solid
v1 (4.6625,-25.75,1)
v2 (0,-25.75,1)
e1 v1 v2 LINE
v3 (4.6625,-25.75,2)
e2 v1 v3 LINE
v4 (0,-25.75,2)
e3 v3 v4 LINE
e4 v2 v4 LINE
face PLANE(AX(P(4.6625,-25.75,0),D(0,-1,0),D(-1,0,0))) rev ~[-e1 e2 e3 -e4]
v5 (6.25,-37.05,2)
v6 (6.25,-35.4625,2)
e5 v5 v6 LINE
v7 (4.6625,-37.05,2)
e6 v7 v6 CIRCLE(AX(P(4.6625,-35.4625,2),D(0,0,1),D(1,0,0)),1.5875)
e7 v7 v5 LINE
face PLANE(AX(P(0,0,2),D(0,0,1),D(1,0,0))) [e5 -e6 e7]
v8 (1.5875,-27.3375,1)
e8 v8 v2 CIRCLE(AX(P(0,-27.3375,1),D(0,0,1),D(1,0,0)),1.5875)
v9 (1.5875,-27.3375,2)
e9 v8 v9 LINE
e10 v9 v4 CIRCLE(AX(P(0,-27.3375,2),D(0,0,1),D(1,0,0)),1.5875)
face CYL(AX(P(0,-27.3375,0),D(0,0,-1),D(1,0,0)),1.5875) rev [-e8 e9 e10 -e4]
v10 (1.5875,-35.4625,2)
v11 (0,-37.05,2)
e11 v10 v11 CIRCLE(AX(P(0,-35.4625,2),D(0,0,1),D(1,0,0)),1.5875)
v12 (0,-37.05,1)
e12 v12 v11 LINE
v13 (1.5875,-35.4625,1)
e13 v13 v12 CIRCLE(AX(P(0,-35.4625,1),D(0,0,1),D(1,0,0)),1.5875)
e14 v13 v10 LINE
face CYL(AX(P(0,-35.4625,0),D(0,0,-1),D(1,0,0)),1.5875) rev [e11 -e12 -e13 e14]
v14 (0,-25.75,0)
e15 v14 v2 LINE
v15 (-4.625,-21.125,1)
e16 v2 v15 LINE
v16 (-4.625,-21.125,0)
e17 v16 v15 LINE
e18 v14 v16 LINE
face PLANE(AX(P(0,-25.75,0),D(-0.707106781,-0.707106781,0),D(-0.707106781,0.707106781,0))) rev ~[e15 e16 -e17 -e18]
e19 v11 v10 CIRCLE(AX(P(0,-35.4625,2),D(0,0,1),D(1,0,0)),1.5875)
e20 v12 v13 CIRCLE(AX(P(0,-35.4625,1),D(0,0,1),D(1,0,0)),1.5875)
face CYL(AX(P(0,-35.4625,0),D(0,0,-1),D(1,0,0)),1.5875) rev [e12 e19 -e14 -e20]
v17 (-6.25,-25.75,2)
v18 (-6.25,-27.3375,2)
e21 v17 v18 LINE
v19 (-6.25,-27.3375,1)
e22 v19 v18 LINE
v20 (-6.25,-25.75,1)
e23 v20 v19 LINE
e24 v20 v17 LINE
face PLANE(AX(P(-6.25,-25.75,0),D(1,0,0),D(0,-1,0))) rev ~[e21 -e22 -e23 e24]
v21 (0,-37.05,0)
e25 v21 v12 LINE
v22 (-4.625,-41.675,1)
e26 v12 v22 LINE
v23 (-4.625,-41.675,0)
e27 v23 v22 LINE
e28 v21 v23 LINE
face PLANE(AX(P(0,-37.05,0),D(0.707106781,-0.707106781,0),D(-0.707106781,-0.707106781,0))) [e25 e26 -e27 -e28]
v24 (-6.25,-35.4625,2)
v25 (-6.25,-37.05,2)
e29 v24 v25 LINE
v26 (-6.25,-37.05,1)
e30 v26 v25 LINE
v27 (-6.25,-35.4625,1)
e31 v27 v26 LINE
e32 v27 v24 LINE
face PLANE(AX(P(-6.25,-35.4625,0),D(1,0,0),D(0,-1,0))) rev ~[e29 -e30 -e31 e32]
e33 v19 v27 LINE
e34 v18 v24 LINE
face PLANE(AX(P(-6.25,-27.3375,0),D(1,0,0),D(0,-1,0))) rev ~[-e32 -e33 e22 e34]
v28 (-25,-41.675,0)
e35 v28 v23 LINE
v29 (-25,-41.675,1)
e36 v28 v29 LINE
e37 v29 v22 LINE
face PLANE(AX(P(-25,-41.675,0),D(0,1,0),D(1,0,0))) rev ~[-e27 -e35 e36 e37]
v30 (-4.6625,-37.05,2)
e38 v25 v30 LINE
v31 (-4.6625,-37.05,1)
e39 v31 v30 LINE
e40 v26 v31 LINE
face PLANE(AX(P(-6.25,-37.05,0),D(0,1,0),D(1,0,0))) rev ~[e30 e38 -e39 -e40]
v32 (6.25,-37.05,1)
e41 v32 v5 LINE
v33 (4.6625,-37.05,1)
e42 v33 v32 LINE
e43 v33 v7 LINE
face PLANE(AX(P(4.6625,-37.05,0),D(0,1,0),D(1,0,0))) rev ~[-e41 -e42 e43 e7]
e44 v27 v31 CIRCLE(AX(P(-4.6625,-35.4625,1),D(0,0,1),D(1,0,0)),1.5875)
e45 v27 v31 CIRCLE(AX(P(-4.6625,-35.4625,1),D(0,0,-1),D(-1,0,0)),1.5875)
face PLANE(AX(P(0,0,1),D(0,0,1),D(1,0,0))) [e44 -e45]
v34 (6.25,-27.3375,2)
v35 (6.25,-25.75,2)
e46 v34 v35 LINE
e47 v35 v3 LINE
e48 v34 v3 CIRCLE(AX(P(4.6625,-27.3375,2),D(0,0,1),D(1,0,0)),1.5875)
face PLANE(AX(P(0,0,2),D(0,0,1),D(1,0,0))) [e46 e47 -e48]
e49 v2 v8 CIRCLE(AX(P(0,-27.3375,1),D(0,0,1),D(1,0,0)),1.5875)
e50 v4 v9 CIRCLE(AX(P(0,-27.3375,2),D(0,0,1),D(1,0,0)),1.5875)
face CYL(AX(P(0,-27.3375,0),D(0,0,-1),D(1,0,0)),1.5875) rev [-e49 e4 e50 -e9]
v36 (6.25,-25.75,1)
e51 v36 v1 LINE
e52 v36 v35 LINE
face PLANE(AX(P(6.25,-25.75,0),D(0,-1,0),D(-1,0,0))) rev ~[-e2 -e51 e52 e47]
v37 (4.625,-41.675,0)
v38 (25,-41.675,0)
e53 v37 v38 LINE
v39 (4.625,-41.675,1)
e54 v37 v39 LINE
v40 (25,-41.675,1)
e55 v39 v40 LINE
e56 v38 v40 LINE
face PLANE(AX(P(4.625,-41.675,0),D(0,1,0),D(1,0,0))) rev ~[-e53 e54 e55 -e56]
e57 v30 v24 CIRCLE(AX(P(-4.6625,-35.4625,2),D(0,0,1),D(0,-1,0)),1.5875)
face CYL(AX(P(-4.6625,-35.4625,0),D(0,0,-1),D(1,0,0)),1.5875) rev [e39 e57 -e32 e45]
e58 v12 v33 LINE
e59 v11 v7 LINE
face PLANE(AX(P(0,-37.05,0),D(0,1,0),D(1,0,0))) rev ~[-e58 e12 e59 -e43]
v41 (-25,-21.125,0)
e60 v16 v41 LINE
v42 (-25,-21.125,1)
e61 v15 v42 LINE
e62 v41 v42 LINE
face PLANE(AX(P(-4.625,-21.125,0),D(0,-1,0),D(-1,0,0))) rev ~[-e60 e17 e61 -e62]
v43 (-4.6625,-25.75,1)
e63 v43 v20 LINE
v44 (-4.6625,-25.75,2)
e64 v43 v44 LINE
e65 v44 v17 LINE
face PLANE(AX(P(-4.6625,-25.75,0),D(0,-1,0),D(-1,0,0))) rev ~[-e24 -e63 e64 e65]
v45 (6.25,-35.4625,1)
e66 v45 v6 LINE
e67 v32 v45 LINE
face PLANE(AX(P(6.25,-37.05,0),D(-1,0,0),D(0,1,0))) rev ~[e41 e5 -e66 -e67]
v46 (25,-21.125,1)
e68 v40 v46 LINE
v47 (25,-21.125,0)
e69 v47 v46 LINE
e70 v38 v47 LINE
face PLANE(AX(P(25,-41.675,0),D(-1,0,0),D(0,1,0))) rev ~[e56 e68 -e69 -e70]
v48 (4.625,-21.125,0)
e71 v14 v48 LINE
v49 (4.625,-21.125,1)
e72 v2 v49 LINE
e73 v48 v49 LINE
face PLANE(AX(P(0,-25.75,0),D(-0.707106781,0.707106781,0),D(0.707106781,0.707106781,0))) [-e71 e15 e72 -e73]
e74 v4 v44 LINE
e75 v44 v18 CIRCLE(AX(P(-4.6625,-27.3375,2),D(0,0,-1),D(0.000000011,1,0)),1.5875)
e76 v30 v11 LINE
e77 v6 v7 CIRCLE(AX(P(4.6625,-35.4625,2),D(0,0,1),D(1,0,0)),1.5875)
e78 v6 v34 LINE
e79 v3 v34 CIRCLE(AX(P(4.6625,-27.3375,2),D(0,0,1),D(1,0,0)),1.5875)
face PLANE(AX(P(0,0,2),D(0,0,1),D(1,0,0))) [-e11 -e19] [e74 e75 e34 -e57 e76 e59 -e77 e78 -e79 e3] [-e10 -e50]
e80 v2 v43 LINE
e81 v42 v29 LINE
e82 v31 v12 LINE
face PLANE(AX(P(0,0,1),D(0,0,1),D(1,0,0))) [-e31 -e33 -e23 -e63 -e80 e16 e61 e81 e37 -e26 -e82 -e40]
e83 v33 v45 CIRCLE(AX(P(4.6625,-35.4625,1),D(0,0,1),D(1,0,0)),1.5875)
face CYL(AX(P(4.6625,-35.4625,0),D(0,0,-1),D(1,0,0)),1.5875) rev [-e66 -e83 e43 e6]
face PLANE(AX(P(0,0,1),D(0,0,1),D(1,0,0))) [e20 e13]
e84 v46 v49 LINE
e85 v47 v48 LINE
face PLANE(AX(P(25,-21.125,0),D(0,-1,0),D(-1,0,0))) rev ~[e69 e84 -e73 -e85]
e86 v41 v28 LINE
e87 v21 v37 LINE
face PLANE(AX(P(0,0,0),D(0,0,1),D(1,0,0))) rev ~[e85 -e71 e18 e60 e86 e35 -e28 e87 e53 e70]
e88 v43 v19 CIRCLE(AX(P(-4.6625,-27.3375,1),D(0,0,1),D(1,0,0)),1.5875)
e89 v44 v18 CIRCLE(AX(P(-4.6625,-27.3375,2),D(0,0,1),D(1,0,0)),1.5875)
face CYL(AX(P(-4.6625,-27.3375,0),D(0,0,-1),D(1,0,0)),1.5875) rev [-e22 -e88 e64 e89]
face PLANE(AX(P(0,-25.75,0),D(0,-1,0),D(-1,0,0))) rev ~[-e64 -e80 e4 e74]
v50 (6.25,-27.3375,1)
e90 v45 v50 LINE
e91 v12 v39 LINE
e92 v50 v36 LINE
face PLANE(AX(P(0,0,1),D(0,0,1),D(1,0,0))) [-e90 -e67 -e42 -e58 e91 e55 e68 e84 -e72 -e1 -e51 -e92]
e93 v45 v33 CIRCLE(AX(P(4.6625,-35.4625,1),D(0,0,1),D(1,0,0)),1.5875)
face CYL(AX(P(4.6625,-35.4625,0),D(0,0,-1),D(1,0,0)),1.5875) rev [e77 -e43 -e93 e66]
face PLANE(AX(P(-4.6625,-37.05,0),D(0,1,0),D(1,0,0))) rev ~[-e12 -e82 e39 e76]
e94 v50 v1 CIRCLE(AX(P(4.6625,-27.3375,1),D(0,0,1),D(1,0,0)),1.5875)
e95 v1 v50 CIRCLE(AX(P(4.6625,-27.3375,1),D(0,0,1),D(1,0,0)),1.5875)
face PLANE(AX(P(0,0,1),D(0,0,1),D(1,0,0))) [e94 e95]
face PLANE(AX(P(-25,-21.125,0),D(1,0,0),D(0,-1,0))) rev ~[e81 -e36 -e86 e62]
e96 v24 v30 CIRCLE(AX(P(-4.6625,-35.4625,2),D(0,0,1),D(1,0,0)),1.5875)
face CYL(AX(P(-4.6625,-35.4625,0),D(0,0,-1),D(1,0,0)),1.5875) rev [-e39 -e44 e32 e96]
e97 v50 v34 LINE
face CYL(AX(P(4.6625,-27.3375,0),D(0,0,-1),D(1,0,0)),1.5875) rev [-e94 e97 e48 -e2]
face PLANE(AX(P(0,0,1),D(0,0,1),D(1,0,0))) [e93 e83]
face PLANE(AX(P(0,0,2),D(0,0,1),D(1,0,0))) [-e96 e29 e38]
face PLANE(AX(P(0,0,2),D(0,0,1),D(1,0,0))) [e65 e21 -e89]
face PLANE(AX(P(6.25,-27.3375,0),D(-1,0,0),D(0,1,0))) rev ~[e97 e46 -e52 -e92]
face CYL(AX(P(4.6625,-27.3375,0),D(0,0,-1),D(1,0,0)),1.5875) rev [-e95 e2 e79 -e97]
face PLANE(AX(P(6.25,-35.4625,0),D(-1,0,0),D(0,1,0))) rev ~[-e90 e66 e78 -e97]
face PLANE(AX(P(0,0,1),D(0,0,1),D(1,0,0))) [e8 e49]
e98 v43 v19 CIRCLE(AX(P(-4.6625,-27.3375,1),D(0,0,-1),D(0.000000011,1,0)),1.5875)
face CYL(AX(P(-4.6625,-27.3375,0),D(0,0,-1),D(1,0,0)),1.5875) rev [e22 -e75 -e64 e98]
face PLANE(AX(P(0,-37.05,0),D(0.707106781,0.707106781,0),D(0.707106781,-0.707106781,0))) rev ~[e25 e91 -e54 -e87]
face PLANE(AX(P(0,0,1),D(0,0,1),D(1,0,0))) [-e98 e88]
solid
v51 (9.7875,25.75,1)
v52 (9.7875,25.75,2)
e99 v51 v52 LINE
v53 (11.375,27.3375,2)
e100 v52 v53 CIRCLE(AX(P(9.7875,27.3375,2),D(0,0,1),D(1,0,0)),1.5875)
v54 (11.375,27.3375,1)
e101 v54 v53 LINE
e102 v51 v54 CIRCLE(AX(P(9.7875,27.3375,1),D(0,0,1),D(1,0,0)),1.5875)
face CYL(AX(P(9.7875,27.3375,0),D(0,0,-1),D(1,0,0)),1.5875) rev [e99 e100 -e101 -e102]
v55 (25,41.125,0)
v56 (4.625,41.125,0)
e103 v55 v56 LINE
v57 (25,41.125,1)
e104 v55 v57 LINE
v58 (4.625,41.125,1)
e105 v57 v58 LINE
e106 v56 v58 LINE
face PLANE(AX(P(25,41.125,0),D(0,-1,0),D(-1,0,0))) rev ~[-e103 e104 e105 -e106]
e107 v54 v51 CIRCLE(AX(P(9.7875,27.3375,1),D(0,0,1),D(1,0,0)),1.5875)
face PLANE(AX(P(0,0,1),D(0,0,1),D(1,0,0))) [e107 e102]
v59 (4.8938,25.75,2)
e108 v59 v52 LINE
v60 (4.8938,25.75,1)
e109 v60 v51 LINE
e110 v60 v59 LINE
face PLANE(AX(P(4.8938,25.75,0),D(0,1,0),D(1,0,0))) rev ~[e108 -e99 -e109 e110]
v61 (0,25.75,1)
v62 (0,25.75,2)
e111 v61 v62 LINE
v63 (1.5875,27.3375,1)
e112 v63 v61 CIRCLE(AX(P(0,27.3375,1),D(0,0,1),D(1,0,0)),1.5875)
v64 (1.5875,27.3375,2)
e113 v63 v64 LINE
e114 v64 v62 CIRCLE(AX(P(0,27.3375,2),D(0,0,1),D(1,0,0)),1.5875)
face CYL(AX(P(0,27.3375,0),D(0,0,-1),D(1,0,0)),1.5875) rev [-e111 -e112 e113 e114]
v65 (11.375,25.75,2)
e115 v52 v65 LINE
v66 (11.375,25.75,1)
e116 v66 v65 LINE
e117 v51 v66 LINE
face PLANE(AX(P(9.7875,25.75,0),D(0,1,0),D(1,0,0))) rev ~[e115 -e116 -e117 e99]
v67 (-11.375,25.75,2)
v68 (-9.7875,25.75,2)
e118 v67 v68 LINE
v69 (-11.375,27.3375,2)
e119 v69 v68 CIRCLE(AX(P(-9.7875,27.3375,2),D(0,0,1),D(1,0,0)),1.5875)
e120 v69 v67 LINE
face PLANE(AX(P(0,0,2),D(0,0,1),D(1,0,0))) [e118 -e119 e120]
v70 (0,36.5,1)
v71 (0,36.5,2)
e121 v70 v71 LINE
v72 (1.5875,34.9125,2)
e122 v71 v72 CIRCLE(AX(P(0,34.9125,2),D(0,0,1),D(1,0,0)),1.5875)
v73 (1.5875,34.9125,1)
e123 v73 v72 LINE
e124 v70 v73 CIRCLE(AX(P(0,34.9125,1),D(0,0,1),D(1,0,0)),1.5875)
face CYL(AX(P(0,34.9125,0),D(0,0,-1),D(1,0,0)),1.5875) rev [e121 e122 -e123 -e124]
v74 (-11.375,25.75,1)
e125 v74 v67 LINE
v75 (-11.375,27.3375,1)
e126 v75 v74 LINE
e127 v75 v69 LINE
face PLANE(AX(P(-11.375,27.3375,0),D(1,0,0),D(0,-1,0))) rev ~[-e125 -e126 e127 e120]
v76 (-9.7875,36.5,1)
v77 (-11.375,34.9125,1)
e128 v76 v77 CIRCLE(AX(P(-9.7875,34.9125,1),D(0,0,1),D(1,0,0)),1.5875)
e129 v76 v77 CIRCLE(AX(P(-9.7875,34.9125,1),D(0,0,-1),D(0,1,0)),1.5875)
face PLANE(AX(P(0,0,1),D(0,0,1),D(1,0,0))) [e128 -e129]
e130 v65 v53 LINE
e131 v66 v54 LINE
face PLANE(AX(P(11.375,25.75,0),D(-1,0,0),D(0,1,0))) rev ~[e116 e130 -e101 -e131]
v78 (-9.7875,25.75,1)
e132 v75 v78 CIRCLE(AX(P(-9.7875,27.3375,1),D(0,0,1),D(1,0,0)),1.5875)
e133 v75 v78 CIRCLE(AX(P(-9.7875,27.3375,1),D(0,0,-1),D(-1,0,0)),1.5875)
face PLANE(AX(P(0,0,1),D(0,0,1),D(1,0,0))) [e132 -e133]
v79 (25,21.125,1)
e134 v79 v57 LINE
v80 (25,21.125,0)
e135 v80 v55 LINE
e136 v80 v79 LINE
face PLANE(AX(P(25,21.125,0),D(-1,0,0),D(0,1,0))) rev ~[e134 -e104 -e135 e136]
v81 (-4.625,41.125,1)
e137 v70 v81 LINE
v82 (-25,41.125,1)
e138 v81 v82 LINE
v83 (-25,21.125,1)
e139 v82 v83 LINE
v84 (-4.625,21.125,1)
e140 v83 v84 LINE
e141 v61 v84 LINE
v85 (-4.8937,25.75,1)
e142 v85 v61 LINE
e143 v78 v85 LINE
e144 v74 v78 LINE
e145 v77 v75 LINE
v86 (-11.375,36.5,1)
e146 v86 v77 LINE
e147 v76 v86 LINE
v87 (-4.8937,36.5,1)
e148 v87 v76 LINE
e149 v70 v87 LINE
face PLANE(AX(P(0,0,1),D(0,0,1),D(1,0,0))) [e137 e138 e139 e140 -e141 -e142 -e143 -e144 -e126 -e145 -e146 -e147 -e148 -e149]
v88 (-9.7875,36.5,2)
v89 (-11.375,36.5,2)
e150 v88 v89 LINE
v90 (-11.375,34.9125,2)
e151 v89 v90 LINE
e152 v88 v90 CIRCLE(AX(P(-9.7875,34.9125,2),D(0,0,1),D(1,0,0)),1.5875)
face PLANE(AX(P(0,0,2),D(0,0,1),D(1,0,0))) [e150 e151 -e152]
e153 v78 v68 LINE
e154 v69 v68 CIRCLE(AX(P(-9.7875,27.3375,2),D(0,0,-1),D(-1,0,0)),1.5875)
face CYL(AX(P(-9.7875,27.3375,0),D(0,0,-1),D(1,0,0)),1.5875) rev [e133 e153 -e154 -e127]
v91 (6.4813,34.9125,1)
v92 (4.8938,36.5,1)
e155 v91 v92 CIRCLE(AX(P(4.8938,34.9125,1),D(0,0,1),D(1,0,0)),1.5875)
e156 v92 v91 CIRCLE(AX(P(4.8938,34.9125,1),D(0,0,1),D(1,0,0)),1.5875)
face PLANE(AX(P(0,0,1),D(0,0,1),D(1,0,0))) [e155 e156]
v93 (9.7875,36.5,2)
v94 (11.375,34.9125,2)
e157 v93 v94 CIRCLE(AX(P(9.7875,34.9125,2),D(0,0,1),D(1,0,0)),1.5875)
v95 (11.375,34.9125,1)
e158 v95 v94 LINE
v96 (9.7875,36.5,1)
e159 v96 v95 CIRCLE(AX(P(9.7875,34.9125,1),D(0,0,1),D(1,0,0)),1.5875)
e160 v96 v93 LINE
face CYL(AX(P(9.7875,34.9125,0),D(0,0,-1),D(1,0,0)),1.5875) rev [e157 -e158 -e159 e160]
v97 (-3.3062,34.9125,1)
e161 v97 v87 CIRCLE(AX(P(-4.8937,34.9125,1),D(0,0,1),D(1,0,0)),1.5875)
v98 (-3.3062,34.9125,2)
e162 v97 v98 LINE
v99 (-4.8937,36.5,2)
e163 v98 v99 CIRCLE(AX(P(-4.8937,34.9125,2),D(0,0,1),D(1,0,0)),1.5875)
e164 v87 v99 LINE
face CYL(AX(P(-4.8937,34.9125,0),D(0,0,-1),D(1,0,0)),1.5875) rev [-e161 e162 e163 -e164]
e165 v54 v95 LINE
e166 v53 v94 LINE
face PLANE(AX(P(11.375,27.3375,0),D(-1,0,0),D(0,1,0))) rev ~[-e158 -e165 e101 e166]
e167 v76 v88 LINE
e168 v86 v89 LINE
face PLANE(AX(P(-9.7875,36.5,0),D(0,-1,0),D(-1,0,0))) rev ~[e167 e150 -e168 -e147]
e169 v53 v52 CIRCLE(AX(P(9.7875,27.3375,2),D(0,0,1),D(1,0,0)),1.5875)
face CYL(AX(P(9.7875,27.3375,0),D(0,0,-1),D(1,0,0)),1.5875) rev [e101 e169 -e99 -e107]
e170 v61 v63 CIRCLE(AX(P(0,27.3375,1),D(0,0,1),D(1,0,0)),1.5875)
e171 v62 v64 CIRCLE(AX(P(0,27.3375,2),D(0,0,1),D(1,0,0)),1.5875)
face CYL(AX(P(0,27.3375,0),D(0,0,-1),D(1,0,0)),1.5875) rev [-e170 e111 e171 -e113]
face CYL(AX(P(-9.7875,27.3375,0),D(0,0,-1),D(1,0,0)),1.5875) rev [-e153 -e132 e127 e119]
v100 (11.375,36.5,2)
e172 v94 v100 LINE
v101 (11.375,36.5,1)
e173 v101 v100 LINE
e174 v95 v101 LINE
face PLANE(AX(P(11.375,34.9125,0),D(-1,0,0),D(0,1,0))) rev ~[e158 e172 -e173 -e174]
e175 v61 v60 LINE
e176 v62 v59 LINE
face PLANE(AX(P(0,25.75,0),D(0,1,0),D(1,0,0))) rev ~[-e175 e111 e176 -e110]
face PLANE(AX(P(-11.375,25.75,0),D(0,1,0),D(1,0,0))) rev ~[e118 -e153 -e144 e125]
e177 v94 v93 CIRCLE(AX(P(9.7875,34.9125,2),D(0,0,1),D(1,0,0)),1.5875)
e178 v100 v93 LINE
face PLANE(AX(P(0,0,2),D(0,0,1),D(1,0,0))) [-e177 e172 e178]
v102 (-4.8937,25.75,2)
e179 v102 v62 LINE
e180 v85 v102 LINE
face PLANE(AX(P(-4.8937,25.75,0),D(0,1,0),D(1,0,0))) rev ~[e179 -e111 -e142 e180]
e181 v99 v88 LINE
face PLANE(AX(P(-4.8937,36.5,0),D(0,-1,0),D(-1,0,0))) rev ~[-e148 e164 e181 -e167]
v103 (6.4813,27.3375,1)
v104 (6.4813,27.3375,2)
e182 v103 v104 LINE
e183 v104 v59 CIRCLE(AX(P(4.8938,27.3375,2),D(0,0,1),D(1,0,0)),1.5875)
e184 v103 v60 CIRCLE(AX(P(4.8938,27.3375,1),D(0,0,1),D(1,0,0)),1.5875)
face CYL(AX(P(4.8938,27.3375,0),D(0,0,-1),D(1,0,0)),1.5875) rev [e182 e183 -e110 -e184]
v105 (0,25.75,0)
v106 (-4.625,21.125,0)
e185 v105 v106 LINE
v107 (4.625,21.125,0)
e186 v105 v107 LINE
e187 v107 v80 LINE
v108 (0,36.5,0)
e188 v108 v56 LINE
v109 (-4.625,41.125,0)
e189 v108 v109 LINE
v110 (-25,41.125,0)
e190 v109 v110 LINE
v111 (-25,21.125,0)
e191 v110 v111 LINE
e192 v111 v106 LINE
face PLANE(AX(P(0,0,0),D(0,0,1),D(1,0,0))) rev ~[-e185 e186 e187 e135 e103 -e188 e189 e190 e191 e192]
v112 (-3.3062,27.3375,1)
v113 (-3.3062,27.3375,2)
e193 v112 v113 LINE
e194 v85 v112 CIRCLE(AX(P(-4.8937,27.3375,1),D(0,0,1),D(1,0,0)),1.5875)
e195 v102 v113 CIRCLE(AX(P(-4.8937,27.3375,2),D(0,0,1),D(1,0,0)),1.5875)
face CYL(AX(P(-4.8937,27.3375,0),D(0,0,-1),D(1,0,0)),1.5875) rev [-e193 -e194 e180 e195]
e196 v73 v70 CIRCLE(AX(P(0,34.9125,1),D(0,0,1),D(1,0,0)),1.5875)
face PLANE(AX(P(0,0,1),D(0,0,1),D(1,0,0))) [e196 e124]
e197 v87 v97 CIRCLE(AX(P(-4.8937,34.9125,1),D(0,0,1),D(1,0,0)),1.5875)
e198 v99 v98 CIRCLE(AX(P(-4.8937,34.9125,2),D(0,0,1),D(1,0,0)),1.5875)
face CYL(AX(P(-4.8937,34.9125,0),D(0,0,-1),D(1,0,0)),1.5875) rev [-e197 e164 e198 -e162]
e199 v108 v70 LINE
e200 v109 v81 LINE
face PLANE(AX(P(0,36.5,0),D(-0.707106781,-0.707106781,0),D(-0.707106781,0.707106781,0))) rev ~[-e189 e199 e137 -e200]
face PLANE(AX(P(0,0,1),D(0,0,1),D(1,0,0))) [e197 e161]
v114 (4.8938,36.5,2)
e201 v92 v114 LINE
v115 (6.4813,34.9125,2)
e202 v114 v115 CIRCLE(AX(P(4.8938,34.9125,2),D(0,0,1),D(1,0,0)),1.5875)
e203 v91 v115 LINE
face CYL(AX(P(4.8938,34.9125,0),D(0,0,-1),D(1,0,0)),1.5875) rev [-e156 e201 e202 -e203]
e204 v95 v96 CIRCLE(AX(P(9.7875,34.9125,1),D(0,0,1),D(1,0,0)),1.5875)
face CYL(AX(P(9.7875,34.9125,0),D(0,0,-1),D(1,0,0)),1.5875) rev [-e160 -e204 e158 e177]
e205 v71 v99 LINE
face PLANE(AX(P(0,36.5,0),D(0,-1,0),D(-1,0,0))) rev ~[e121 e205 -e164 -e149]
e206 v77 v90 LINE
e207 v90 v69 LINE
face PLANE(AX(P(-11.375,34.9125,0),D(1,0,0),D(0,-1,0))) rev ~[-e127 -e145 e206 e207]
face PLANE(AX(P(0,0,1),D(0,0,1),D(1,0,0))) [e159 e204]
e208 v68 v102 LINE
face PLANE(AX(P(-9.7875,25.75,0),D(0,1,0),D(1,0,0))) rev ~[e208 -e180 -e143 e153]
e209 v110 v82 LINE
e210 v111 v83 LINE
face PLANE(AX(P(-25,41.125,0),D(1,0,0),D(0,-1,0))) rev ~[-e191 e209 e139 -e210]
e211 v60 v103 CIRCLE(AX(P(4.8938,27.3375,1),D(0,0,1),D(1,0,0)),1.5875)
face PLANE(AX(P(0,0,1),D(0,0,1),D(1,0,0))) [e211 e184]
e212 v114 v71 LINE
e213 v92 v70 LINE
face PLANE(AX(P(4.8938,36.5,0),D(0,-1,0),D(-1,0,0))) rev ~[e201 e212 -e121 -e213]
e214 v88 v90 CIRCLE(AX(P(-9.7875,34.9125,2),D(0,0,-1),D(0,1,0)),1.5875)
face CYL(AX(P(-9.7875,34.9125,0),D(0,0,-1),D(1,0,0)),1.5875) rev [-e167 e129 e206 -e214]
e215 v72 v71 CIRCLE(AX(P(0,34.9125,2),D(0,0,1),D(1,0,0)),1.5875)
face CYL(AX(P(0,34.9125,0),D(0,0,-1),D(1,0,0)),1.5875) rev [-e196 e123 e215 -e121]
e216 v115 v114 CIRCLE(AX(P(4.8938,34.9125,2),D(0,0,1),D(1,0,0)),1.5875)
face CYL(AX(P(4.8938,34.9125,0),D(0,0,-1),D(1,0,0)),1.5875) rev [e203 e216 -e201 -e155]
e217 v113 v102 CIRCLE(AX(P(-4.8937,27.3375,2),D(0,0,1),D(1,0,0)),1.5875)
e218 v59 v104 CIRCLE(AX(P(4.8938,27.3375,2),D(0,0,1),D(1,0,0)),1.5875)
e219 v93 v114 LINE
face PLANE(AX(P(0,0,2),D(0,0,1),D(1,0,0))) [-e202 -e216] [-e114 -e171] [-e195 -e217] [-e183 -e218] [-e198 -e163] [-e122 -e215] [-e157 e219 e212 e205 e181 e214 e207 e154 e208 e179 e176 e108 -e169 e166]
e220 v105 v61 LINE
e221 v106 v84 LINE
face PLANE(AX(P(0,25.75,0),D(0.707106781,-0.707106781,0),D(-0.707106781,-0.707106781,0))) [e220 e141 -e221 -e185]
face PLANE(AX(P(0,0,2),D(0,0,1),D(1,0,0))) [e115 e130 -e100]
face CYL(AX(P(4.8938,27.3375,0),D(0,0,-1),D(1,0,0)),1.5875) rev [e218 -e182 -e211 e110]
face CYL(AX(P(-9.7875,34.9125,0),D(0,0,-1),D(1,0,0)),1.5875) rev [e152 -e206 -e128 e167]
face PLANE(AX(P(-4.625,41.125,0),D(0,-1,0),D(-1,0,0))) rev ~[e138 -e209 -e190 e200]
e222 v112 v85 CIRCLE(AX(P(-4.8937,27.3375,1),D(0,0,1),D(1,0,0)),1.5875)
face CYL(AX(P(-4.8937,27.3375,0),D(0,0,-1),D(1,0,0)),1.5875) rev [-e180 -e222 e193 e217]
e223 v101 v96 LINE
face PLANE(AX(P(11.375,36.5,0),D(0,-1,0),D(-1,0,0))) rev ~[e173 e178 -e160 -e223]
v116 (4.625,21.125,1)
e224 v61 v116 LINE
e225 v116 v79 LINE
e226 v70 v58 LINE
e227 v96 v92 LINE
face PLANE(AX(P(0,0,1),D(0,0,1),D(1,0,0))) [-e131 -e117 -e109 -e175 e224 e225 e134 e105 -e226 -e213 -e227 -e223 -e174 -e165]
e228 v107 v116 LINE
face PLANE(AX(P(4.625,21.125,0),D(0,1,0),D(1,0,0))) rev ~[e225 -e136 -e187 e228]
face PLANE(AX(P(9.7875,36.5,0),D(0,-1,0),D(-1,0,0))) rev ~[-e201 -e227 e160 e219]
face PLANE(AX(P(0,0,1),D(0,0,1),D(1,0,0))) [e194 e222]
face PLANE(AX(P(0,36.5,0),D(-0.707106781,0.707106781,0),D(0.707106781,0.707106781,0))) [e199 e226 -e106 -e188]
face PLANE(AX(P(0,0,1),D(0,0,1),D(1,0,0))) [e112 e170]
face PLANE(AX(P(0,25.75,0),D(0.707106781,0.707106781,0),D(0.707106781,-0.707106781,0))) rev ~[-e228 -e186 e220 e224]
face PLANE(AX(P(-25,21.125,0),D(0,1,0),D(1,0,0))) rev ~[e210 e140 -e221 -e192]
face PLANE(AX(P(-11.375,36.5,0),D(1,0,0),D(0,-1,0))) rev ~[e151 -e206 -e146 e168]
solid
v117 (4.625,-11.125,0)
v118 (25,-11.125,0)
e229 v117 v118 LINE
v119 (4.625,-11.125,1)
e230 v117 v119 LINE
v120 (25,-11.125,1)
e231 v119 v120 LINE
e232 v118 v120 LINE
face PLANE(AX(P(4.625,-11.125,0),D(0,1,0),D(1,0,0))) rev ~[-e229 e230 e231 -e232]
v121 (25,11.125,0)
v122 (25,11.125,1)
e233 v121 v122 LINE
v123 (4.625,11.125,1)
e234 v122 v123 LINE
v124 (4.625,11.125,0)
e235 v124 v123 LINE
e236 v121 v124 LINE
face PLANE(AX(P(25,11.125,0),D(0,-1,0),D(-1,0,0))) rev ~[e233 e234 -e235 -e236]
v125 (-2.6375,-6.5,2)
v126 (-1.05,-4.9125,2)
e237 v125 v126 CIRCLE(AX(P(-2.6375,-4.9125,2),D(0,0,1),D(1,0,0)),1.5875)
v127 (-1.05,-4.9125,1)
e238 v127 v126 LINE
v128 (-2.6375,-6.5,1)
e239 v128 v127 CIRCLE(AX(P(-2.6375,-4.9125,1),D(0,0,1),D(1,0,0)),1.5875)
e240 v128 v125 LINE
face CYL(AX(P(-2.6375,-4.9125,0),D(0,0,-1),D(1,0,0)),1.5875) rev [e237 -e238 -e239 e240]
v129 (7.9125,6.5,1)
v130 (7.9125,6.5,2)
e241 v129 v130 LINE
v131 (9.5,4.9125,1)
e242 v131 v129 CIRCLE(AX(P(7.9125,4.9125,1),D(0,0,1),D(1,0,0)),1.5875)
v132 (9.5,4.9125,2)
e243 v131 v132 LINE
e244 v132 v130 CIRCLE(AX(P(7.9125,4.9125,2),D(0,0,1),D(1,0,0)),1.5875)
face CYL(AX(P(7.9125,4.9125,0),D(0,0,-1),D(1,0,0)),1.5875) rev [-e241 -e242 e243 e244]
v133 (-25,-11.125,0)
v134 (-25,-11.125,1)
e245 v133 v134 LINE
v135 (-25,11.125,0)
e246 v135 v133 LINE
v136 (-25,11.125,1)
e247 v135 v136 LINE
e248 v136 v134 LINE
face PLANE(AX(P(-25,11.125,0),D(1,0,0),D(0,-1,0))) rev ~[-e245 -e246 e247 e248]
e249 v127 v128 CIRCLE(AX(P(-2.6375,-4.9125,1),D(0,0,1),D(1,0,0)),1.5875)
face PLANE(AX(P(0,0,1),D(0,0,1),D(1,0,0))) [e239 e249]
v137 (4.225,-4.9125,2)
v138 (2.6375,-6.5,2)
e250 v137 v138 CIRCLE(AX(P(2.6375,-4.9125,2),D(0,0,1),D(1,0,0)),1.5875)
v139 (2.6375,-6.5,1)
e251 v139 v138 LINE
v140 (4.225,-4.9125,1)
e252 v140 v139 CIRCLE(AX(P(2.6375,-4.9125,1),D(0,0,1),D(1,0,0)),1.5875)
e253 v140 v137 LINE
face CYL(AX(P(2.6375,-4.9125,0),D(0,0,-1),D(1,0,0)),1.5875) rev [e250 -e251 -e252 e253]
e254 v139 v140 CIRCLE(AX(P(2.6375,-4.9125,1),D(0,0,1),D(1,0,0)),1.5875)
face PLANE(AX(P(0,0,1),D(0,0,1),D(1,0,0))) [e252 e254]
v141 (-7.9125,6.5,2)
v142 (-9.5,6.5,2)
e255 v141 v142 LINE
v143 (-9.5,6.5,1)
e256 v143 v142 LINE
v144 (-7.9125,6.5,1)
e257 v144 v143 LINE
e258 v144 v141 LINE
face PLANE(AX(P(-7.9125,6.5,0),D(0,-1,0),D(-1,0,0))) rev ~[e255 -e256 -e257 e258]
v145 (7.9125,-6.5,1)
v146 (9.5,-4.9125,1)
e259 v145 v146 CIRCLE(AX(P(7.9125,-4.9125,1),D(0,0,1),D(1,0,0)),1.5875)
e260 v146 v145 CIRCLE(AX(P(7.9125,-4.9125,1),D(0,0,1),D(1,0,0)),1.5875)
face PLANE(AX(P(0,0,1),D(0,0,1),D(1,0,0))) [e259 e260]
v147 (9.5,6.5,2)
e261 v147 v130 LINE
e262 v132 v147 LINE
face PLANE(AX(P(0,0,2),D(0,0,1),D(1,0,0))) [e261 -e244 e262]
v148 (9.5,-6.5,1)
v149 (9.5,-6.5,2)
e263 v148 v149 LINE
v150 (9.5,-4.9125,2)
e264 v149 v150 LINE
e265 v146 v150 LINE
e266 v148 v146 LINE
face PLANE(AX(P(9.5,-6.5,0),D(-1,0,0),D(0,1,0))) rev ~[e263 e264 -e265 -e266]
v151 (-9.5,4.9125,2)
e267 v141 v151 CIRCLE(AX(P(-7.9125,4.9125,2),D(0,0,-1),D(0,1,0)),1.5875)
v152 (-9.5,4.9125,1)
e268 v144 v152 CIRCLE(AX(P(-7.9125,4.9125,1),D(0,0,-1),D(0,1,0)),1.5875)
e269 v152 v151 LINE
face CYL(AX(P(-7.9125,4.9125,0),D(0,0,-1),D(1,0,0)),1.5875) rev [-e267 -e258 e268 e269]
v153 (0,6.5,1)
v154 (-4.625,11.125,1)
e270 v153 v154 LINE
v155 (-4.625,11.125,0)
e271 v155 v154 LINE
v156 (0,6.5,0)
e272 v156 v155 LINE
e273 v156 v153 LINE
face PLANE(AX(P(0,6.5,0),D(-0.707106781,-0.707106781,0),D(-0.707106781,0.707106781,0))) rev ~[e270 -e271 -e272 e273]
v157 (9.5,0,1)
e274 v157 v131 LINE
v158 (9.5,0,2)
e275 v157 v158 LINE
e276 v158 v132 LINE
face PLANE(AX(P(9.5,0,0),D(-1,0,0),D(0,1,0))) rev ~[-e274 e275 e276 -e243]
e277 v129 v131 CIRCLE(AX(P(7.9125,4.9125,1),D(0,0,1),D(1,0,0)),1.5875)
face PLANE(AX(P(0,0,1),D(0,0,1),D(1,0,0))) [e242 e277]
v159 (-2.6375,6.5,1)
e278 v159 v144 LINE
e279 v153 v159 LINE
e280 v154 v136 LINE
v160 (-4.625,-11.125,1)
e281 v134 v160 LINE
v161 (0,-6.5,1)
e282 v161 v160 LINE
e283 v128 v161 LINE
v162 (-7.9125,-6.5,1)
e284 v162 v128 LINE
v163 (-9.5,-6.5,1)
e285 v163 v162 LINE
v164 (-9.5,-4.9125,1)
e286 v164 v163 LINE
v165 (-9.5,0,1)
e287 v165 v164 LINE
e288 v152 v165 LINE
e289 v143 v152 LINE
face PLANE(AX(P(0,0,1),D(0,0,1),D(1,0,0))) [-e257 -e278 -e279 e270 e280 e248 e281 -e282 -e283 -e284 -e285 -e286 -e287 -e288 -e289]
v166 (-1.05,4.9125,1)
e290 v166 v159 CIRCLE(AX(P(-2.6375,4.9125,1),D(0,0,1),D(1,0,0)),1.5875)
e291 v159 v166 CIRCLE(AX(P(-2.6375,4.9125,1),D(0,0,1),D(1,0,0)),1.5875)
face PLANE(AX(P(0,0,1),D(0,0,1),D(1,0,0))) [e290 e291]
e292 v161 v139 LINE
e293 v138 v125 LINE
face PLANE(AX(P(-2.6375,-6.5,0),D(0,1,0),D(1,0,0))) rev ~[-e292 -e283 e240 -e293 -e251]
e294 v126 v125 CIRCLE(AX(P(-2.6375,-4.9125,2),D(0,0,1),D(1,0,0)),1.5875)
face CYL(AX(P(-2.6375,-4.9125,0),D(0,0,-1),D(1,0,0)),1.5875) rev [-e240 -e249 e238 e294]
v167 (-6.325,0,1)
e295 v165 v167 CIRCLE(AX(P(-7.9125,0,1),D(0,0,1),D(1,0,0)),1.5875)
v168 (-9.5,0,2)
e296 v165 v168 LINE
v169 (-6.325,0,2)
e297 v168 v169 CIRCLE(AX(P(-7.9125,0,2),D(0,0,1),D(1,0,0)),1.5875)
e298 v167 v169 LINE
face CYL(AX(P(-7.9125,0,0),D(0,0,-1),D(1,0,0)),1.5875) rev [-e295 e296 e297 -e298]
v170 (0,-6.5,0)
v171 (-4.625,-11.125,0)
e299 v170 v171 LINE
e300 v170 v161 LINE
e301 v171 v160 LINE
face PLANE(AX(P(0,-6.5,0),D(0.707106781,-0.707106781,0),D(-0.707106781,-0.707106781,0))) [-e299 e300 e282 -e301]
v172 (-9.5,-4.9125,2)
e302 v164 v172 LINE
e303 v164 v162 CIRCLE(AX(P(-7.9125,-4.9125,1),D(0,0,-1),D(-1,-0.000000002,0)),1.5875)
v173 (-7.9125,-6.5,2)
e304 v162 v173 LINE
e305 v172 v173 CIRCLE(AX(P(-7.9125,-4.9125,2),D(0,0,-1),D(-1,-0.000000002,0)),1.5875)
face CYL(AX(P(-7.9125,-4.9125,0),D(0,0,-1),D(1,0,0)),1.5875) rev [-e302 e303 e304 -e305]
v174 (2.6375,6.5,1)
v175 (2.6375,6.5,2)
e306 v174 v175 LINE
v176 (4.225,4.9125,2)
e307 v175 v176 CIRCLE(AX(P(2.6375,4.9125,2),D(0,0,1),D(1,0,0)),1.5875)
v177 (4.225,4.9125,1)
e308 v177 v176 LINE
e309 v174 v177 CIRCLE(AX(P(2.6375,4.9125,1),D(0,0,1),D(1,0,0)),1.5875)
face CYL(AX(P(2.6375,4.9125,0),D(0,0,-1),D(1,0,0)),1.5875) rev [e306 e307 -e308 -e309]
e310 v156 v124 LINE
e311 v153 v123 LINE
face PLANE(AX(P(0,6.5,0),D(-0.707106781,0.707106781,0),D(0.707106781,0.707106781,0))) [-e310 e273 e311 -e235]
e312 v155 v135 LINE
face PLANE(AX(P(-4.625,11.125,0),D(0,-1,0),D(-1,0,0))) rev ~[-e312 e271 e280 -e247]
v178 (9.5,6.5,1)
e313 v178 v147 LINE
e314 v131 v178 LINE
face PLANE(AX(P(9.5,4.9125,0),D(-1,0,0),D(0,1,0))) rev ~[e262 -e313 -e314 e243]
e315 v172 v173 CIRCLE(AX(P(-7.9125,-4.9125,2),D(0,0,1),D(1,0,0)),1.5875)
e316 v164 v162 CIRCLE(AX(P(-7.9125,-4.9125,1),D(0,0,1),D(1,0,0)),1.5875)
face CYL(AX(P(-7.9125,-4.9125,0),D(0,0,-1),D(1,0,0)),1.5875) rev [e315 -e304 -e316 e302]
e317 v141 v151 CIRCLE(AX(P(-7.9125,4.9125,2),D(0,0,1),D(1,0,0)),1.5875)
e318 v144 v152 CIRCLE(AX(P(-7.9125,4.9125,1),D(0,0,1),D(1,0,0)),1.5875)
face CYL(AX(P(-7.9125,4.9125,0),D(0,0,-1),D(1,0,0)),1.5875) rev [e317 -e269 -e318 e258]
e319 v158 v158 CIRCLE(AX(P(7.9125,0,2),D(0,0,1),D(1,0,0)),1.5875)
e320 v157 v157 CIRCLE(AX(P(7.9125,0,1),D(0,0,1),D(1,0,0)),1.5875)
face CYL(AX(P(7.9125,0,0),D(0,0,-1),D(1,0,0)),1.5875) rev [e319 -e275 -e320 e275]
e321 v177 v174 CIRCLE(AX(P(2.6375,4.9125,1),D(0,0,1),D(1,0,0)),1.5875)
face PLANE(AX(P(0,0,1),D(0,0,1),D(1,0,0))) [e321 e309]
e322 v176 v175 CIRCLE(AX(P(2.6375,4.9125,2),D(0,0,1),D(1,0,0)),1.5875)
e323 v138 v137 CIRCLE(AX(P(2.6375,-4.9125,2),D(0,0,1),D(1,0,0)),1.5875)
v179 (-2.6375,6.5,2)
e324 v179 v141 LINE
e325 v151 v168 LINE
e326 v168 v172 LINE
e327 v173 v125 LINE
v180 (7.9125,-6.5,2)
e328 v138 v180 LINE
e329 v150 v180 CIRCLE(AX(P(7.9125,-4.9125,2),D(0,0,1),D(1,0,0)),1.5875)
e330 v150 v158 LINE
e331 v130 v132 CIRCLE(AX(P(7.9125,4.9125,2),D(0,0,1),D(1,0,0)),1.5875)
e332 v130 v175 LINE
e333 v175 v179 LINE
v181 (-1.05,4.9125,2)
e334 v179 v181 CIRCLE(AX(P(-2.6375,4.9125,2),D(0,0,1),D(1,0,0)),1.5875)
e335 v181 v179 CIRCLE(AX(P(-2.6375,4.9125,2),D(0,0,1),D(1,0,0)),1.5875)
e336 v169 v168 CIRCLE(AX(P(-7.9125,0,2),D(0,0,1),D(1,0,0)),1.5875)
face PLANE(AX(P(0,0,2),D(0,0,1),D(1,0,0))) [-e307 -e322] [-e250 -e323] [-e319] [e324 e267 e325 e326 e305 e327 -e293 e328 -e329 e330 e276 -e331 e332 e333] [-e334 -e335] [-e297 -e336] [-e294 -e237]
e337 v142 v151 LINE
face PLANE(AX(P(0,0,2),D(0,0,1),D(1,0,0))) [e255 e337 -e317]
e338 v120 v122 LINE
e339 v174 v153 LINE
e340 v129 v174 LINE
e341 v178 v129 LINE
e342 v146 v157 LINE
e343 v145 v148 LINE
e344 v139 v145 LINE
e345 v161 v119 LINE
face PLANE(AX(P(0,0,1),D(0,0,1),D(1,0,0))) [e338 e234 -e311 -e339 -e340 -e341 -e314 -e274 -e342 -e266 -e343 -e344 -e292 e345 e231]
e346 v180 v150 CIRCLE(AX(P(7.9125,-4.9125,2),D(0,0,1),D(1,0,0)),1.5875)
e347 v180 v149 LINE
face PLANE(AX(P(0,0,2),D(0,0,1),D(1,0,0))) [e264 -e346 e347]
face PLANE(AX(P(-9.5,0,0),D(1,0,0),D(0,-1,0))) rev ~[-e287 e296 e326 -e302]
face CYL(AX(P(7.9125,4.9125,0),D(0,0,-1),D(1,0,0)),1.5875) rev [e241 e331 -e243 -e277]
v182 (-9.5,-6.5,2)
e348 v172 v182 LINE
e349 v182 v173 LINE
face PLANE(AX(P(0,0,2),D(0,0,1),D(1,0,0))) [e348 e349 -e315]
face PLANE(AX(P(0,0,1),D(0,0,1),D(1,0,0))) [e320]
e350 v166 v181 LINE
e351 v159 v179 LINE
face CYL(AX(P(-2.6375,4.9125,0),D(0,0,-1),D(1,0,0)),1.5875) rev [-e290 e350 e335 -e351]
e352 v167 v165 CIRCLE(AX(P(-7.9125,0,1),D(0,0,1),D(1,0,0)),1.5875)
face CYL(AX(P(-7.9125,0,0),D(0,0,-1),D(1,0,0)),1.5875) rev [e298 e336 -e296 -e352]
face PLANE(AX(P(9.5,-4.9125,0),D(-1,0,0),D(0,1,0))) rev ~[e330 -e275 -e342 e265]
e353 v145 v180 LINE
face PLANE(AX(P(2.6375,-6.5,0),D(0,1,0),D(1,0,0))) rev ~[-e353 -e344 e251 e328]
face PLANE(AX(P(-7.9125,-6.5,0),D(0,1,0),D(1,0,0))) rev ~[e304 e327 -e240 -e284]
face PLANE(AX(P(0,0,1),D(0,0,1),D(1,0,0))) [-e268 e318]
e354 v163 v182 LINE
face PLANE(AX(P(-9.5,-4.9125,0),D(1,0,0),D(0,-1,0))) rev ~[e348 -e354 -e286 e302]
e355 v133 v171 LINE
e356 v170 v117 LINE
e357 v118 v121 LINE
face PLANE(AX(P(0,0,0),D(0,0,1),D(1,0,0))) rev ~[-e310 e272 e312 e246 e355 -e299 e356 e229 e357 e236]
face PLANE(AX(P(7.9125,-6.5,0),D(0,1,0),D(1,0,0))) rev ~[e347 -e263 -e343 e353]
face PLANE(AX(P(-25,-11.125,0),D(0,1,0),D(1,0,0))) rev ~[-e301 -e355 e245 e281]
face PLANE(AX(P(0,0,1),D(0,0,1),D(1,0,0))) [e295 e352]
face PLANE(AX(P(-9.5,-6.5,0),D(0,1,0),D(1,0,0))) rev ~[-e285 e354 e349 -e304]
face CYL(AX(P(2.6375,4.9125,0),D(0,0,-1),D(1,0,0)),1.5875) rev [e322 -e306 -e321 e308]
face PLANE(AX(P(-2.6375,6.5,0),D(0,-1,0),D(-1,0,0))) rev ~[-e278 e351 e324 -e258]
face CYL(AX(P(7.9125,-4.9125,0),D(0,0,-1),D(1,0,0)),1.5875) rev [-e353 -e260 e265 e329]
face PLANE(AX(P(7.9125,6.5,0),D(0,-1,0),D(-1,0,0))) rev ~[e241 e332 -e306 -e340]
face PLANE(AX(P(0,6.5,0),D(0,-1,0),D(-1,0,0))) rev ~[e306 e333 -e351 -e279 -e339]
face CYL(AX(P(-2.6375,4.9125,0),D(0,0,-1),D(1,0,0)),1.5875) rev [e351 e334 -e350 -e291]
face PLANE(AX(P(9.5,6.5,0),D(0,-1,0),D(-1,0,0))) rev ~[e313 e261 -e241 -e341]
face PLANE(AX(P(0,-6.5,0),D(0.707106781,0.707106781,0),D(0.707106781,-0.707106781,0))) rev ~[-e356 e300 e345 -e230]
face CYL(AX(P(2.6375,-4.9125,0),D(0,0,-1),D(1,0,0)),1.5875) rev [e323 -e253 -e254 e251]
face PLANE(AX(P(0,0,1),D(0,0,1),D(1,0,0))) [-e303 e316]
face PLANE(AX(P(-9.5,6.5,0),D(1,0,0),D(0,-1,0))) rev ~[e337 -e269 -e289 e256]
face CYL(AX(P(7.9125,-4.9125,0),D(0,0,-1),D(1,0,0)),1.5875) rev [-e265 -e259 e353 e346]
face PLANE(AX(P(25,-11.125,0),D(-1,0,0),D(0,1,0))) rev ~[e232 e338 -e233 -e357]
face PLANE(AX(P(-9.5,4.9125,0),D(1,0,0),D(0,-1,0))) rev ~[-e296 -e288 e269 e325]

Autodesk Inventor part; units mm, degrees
ref_plane "YZ Plane" through (0, 0, 0) normal (1, 0, 0) x (0, 1, 0)
ref_plane "XZ Plane" through (0, 0, 0) normal (0, 1, 0) x (-1, 0, 0)
ref_plane "XY Plane" through (0, 0, 0) normal (0, 0, 1) x (1, 0, 0)
sketch "Sketch1" plane through (0, 0, 0) normal (0, 0, 1) x (1, 0, 0)
  line L0 (-25, -11.125) -> (-4.625, -11.125)
  line L1 (25, -11.125) -> (25, 11.125)
  line L2 (25, 11.125) -> (4.625, 11.125)
  line L3 (-25, 11.125) -> (-25, -11.125)
  line L4 (-25, -11.125) -> (25, 11.125) construction
  line L5 (25, -11.125) -> (-25, 11.125) construction
  line L6 (-9.5, -6.5) -> (9.5, -6.5)
  line L7 (9.5, -6.5) -> (9.5, 6.5)
  line L8 (9.5, 6.5) -> (-9.5, 6.5)
  line L9 (-9.5, 6.5) -> (-9.5, -6.5)
  line L10 (-9.5, -6.5) -> (9.5, 6.5) construction
  line L11 (9.5, -6.5) -> (-9.5, 6.5) construction
  line L12 (0, 6.5) -> (-4.625, 11.125)
  line L13 (0, 6.5) -> (4.625, 11.125)
  line L14 (0, -6.5) -> (-4.625, -11.125)
  line L15 (0, -6.5) -> (4.625, -11.125)
  line L16 (-4.625, 11.125) -> (-25, 11.125)
  line L17 (4.625, -11.125) -> (25, -11.125)
  circle A0 centre (-7.9125, 4.9125) radius 1.5875
  circle A1 centre (-7.9125, -4.9125) radius 1.5875
  circle A2 centre (7.9125, -4.9125) radius 1.5875
  circle A3 centre (7.9125, 4.9125) radius 1.5875
  circle A4 centre (-2.6375, -4.9125) radius 1.5875
  circle A5 centre (2.6375, -4.9125) radius 1.5875
  circle A6 centre (2.6375, 4.9125) radius 1.5875
  circle A7 centre (-2.6375, 4.9125) radius 1.5875
  line L18 (-7.9125, 4.9125) -> (-2.6375, 4.9125) construction
  line L19 (2.6375, -4.9125) -> (2.6375, 4.9125) construction
  line L20 (-2.6375, 4.9125) -> (-2.6375, -4.9125) construction
  line L21 (-25, -41.675) -> (-4.625, -41.675)
  line L22 (25, -41.675) -> (25, -21.125)
  line L23 (25, -21.125) -> (4.625, -21.125)
  line L24 (-25, -21.125) -> (-25, -41.675)
  line L25 (-25, -41.675) -> (25, -21.125) construction
  line L26 (25, -41.675) -> (-25, -21.125) construction
  line L27 (-6.25, -37.05) -> (6.25, -37.05)
  line L28 (6.25, -37.05) -> (6.25, -25.75)
  line L29 (6.25, -25.75) -> (-6.25, -25.75)
  line L30 (-6.25, -25.75) -> (-6.25, -37.05)
  line L31 (-6.25, -37.05) -> (6.25, -25.75) construction
  line L32 (6.25, -37.05) -> (-6.25, -25.75) construction
  line L33 (0, -25.75) -> (-4.625, -21.125)
  line L34 (0, -25.75) -> (4.625, -21.125)
  line L35 (0, -37.05) -> (-4.625, -41.675)
  line L36 (0, -37.05) -> (4.625, -41.675)
  line L37 (-4.625, -21.125) -> (-25, -21.125)
  line L38 (4.625, -41.675) -> (25, -41.675)
  circle A8 centre (-4.6625, -27.3375) radius 1.5875
  circle A9 centre (-4.6625, -35.4625) radius 1.5875
  circle A10 centre (4.6625, -35.4625) radius 1.5875
  circle A11 centre (4.6625, -27.3375) radius 1.5875
  circle A12 centre (0, -27.3375) radius 1.5875
  circle A13 centre (0, -35.4625) radius 1.5875
  line L39 (-25, 21.125) -> (-4.625, 21.125)
  line L40 (25, 21.125) -> (25, 41.125)
  line L41 (25, 41.125) -> (4.625, 41.125)
  line L42 (-25, 41.125) -> (-25, 21.125)
  line L43 (-25, 21.125) -> (25, 41.125) construction
  line L44 (25, 21.125) -> (-25, 41.125) construction
  line L45 (-11.375, 25.75) -> (11.375, 25.75)
  line L46 (11.375, 25.75) -> (11.375, 36.5)
  line L47 (11.375, 36.5) -> (-11.375, 36.5)
  line L48 (-11.375, 36.5) -> (-11.375, 25.75)
  line L49 (-11.375, 25.75) -> (11.375, 36.5) construction
  line L50 (11.375, 25.75) -> (-11.375, 36.5) construction
  line L51 (0, 36.5) -> (-4.625, 41.125)
  line L52 (0, 36.5) -> (4.625, 41.125)
  line L53 (0, 25.75) -> (-4.625, 21.125)
  line L54 (0, 25.75) -> (4.625, 21.125)
  line L55 (-4.625, 41.125) -> (-25, 41.125)
  line L56 (4.625, 21.125) -> (25, 21.125)
  circle A14 centre (-9.7875, 34.9125) radius 1.5875
  circle A15 centre (-9.7875, 27.3375) radius 1.5875
  circle A16 centre (9.7875, 27.3375) radius 1.5875
  circle A17 centre (9.7875, 34.9125) radius 1.5875
  circle A18 centre (0, 34.9125) radius 1.5875
  circle A19 centre (0, 27.3375) radius 1.5875
  circle A20 centre (-4.8937, 27.3375) radius 1.5875
  circle A21 centre (4.8938, 27.3375) radius 1.5875
  circle A22 centre (4.8938, 34.9125) radius 1.5875
  circle A23 centre (-4.8937, 34.9125) radius 1.5875
  line L57 (-9.7875, 34.9125) -> (-4.8937, 34.9125) construction
  line L58 (-4.8937, 34.9125) -> (0, 34.9125) construction
  line L59 (0, 34.9125) -> (4.8938, 34.9125) construction
  line L60 (4.8938, 27.3375) -> (4.8938, 34.9125) construction
  line L61 (-4.8937, 34.9125) -> (-4.8937, 27.3375) construction
  line L62 (-2.6375, 4.9125) -> (2.6375, 4.9125) construction
  line L63 (2.6375, 4.9125) -> (7.9125, 4.9125) construction
  line L64 (9.5, 6.5) -> (9.5, 11.125) construction
  line L65 (11.375, 36.5) -> (11.375, 41.125) construction
  line L66 (6.25, -25.75) -> (6.25, -21.125) construction
  circle A24 centre (-7.9125, 0) radius 1.5875
  circle A25 centre (7.9125, 0) radius 1.5875
  point P0 (0, 0)
  point P1 (0, 0)
  point P2 (0, 0)
  point P3 (0, 0)
  point P4 (0, 0)
  point P5 (0, -31.4)
  point P6 (0, -31.4)
  point P7 (0, -31.4)
  point P8 (0, -31.4)
  point P9 (0, -31.4)
  point P10 (0, 31.125)
  point P11 (0, 31.125)
  point P12 (0, 31.125)
  point P13 (0, 31.125)
  point P14 (0, 31.125)
  dimension "d1" = 50
  dimension "d2" = 19
  dimension "d3" = 13
  dimension "d12" = 3.175
  dimension "d14" = 50
  dimension "d15" = 12.5
  dimension "d16" = 11.3
  dimension "d17" = 3.175
  dimension "d18" = 20
  dimension "d19" = 50
  dimension "d20" = 22.75
  dimension "d21" = 10.75
  dimension "d22" = 3.175
  dimension "d23" = 10
  dimension "d24" = 10
extrude "Extrusion1" add sketch "Sketch1" along normal blind 1 contours L3 L16 L12 L8 L9 L6 L14 L0 | A5 | A25 | A6 | A7 | A24 | A4 | L6 L7 L8 L13 L2 L1 L17 L15 | A1 | A2 | A3 | A0 | L24 L37 L33 L29 L30 L27 L35 L21 | A12 | L27 L28 L29 L34 L23 L22 L38 L36 | A13 | A9 | A10 | A11 | A8 | L42 L55 L51 L47 L48 L45 L53 L39 | A21 | A22 | A18 | A23 | A20 | L45 L46 L47 L52 L41 L40 L56 L54 | A19 | A15 | A16 | A17 | A14
extrude "Extrusion2" add sketch "Sketch1" along normal blind 2 contours L6 A1 L9 A0 L8 A3 L7 A2 | L6 L9 A1 | A2 L7 L6 | L8 L7 A3 | A0 L9 L8 | L27 A9 L30 A8 L29 A11 L28 A10 | L27 L30 A9 | A10 L28 L27 | L29 L28 A11 | A8 L30 L29 | L45 A15 L48 A14 L47 A17 L46 A16 | L45 L48 A15 | A16 L46 L45 | L47 L46 A17 | A14 L48 L47
properties part number "Templates"
